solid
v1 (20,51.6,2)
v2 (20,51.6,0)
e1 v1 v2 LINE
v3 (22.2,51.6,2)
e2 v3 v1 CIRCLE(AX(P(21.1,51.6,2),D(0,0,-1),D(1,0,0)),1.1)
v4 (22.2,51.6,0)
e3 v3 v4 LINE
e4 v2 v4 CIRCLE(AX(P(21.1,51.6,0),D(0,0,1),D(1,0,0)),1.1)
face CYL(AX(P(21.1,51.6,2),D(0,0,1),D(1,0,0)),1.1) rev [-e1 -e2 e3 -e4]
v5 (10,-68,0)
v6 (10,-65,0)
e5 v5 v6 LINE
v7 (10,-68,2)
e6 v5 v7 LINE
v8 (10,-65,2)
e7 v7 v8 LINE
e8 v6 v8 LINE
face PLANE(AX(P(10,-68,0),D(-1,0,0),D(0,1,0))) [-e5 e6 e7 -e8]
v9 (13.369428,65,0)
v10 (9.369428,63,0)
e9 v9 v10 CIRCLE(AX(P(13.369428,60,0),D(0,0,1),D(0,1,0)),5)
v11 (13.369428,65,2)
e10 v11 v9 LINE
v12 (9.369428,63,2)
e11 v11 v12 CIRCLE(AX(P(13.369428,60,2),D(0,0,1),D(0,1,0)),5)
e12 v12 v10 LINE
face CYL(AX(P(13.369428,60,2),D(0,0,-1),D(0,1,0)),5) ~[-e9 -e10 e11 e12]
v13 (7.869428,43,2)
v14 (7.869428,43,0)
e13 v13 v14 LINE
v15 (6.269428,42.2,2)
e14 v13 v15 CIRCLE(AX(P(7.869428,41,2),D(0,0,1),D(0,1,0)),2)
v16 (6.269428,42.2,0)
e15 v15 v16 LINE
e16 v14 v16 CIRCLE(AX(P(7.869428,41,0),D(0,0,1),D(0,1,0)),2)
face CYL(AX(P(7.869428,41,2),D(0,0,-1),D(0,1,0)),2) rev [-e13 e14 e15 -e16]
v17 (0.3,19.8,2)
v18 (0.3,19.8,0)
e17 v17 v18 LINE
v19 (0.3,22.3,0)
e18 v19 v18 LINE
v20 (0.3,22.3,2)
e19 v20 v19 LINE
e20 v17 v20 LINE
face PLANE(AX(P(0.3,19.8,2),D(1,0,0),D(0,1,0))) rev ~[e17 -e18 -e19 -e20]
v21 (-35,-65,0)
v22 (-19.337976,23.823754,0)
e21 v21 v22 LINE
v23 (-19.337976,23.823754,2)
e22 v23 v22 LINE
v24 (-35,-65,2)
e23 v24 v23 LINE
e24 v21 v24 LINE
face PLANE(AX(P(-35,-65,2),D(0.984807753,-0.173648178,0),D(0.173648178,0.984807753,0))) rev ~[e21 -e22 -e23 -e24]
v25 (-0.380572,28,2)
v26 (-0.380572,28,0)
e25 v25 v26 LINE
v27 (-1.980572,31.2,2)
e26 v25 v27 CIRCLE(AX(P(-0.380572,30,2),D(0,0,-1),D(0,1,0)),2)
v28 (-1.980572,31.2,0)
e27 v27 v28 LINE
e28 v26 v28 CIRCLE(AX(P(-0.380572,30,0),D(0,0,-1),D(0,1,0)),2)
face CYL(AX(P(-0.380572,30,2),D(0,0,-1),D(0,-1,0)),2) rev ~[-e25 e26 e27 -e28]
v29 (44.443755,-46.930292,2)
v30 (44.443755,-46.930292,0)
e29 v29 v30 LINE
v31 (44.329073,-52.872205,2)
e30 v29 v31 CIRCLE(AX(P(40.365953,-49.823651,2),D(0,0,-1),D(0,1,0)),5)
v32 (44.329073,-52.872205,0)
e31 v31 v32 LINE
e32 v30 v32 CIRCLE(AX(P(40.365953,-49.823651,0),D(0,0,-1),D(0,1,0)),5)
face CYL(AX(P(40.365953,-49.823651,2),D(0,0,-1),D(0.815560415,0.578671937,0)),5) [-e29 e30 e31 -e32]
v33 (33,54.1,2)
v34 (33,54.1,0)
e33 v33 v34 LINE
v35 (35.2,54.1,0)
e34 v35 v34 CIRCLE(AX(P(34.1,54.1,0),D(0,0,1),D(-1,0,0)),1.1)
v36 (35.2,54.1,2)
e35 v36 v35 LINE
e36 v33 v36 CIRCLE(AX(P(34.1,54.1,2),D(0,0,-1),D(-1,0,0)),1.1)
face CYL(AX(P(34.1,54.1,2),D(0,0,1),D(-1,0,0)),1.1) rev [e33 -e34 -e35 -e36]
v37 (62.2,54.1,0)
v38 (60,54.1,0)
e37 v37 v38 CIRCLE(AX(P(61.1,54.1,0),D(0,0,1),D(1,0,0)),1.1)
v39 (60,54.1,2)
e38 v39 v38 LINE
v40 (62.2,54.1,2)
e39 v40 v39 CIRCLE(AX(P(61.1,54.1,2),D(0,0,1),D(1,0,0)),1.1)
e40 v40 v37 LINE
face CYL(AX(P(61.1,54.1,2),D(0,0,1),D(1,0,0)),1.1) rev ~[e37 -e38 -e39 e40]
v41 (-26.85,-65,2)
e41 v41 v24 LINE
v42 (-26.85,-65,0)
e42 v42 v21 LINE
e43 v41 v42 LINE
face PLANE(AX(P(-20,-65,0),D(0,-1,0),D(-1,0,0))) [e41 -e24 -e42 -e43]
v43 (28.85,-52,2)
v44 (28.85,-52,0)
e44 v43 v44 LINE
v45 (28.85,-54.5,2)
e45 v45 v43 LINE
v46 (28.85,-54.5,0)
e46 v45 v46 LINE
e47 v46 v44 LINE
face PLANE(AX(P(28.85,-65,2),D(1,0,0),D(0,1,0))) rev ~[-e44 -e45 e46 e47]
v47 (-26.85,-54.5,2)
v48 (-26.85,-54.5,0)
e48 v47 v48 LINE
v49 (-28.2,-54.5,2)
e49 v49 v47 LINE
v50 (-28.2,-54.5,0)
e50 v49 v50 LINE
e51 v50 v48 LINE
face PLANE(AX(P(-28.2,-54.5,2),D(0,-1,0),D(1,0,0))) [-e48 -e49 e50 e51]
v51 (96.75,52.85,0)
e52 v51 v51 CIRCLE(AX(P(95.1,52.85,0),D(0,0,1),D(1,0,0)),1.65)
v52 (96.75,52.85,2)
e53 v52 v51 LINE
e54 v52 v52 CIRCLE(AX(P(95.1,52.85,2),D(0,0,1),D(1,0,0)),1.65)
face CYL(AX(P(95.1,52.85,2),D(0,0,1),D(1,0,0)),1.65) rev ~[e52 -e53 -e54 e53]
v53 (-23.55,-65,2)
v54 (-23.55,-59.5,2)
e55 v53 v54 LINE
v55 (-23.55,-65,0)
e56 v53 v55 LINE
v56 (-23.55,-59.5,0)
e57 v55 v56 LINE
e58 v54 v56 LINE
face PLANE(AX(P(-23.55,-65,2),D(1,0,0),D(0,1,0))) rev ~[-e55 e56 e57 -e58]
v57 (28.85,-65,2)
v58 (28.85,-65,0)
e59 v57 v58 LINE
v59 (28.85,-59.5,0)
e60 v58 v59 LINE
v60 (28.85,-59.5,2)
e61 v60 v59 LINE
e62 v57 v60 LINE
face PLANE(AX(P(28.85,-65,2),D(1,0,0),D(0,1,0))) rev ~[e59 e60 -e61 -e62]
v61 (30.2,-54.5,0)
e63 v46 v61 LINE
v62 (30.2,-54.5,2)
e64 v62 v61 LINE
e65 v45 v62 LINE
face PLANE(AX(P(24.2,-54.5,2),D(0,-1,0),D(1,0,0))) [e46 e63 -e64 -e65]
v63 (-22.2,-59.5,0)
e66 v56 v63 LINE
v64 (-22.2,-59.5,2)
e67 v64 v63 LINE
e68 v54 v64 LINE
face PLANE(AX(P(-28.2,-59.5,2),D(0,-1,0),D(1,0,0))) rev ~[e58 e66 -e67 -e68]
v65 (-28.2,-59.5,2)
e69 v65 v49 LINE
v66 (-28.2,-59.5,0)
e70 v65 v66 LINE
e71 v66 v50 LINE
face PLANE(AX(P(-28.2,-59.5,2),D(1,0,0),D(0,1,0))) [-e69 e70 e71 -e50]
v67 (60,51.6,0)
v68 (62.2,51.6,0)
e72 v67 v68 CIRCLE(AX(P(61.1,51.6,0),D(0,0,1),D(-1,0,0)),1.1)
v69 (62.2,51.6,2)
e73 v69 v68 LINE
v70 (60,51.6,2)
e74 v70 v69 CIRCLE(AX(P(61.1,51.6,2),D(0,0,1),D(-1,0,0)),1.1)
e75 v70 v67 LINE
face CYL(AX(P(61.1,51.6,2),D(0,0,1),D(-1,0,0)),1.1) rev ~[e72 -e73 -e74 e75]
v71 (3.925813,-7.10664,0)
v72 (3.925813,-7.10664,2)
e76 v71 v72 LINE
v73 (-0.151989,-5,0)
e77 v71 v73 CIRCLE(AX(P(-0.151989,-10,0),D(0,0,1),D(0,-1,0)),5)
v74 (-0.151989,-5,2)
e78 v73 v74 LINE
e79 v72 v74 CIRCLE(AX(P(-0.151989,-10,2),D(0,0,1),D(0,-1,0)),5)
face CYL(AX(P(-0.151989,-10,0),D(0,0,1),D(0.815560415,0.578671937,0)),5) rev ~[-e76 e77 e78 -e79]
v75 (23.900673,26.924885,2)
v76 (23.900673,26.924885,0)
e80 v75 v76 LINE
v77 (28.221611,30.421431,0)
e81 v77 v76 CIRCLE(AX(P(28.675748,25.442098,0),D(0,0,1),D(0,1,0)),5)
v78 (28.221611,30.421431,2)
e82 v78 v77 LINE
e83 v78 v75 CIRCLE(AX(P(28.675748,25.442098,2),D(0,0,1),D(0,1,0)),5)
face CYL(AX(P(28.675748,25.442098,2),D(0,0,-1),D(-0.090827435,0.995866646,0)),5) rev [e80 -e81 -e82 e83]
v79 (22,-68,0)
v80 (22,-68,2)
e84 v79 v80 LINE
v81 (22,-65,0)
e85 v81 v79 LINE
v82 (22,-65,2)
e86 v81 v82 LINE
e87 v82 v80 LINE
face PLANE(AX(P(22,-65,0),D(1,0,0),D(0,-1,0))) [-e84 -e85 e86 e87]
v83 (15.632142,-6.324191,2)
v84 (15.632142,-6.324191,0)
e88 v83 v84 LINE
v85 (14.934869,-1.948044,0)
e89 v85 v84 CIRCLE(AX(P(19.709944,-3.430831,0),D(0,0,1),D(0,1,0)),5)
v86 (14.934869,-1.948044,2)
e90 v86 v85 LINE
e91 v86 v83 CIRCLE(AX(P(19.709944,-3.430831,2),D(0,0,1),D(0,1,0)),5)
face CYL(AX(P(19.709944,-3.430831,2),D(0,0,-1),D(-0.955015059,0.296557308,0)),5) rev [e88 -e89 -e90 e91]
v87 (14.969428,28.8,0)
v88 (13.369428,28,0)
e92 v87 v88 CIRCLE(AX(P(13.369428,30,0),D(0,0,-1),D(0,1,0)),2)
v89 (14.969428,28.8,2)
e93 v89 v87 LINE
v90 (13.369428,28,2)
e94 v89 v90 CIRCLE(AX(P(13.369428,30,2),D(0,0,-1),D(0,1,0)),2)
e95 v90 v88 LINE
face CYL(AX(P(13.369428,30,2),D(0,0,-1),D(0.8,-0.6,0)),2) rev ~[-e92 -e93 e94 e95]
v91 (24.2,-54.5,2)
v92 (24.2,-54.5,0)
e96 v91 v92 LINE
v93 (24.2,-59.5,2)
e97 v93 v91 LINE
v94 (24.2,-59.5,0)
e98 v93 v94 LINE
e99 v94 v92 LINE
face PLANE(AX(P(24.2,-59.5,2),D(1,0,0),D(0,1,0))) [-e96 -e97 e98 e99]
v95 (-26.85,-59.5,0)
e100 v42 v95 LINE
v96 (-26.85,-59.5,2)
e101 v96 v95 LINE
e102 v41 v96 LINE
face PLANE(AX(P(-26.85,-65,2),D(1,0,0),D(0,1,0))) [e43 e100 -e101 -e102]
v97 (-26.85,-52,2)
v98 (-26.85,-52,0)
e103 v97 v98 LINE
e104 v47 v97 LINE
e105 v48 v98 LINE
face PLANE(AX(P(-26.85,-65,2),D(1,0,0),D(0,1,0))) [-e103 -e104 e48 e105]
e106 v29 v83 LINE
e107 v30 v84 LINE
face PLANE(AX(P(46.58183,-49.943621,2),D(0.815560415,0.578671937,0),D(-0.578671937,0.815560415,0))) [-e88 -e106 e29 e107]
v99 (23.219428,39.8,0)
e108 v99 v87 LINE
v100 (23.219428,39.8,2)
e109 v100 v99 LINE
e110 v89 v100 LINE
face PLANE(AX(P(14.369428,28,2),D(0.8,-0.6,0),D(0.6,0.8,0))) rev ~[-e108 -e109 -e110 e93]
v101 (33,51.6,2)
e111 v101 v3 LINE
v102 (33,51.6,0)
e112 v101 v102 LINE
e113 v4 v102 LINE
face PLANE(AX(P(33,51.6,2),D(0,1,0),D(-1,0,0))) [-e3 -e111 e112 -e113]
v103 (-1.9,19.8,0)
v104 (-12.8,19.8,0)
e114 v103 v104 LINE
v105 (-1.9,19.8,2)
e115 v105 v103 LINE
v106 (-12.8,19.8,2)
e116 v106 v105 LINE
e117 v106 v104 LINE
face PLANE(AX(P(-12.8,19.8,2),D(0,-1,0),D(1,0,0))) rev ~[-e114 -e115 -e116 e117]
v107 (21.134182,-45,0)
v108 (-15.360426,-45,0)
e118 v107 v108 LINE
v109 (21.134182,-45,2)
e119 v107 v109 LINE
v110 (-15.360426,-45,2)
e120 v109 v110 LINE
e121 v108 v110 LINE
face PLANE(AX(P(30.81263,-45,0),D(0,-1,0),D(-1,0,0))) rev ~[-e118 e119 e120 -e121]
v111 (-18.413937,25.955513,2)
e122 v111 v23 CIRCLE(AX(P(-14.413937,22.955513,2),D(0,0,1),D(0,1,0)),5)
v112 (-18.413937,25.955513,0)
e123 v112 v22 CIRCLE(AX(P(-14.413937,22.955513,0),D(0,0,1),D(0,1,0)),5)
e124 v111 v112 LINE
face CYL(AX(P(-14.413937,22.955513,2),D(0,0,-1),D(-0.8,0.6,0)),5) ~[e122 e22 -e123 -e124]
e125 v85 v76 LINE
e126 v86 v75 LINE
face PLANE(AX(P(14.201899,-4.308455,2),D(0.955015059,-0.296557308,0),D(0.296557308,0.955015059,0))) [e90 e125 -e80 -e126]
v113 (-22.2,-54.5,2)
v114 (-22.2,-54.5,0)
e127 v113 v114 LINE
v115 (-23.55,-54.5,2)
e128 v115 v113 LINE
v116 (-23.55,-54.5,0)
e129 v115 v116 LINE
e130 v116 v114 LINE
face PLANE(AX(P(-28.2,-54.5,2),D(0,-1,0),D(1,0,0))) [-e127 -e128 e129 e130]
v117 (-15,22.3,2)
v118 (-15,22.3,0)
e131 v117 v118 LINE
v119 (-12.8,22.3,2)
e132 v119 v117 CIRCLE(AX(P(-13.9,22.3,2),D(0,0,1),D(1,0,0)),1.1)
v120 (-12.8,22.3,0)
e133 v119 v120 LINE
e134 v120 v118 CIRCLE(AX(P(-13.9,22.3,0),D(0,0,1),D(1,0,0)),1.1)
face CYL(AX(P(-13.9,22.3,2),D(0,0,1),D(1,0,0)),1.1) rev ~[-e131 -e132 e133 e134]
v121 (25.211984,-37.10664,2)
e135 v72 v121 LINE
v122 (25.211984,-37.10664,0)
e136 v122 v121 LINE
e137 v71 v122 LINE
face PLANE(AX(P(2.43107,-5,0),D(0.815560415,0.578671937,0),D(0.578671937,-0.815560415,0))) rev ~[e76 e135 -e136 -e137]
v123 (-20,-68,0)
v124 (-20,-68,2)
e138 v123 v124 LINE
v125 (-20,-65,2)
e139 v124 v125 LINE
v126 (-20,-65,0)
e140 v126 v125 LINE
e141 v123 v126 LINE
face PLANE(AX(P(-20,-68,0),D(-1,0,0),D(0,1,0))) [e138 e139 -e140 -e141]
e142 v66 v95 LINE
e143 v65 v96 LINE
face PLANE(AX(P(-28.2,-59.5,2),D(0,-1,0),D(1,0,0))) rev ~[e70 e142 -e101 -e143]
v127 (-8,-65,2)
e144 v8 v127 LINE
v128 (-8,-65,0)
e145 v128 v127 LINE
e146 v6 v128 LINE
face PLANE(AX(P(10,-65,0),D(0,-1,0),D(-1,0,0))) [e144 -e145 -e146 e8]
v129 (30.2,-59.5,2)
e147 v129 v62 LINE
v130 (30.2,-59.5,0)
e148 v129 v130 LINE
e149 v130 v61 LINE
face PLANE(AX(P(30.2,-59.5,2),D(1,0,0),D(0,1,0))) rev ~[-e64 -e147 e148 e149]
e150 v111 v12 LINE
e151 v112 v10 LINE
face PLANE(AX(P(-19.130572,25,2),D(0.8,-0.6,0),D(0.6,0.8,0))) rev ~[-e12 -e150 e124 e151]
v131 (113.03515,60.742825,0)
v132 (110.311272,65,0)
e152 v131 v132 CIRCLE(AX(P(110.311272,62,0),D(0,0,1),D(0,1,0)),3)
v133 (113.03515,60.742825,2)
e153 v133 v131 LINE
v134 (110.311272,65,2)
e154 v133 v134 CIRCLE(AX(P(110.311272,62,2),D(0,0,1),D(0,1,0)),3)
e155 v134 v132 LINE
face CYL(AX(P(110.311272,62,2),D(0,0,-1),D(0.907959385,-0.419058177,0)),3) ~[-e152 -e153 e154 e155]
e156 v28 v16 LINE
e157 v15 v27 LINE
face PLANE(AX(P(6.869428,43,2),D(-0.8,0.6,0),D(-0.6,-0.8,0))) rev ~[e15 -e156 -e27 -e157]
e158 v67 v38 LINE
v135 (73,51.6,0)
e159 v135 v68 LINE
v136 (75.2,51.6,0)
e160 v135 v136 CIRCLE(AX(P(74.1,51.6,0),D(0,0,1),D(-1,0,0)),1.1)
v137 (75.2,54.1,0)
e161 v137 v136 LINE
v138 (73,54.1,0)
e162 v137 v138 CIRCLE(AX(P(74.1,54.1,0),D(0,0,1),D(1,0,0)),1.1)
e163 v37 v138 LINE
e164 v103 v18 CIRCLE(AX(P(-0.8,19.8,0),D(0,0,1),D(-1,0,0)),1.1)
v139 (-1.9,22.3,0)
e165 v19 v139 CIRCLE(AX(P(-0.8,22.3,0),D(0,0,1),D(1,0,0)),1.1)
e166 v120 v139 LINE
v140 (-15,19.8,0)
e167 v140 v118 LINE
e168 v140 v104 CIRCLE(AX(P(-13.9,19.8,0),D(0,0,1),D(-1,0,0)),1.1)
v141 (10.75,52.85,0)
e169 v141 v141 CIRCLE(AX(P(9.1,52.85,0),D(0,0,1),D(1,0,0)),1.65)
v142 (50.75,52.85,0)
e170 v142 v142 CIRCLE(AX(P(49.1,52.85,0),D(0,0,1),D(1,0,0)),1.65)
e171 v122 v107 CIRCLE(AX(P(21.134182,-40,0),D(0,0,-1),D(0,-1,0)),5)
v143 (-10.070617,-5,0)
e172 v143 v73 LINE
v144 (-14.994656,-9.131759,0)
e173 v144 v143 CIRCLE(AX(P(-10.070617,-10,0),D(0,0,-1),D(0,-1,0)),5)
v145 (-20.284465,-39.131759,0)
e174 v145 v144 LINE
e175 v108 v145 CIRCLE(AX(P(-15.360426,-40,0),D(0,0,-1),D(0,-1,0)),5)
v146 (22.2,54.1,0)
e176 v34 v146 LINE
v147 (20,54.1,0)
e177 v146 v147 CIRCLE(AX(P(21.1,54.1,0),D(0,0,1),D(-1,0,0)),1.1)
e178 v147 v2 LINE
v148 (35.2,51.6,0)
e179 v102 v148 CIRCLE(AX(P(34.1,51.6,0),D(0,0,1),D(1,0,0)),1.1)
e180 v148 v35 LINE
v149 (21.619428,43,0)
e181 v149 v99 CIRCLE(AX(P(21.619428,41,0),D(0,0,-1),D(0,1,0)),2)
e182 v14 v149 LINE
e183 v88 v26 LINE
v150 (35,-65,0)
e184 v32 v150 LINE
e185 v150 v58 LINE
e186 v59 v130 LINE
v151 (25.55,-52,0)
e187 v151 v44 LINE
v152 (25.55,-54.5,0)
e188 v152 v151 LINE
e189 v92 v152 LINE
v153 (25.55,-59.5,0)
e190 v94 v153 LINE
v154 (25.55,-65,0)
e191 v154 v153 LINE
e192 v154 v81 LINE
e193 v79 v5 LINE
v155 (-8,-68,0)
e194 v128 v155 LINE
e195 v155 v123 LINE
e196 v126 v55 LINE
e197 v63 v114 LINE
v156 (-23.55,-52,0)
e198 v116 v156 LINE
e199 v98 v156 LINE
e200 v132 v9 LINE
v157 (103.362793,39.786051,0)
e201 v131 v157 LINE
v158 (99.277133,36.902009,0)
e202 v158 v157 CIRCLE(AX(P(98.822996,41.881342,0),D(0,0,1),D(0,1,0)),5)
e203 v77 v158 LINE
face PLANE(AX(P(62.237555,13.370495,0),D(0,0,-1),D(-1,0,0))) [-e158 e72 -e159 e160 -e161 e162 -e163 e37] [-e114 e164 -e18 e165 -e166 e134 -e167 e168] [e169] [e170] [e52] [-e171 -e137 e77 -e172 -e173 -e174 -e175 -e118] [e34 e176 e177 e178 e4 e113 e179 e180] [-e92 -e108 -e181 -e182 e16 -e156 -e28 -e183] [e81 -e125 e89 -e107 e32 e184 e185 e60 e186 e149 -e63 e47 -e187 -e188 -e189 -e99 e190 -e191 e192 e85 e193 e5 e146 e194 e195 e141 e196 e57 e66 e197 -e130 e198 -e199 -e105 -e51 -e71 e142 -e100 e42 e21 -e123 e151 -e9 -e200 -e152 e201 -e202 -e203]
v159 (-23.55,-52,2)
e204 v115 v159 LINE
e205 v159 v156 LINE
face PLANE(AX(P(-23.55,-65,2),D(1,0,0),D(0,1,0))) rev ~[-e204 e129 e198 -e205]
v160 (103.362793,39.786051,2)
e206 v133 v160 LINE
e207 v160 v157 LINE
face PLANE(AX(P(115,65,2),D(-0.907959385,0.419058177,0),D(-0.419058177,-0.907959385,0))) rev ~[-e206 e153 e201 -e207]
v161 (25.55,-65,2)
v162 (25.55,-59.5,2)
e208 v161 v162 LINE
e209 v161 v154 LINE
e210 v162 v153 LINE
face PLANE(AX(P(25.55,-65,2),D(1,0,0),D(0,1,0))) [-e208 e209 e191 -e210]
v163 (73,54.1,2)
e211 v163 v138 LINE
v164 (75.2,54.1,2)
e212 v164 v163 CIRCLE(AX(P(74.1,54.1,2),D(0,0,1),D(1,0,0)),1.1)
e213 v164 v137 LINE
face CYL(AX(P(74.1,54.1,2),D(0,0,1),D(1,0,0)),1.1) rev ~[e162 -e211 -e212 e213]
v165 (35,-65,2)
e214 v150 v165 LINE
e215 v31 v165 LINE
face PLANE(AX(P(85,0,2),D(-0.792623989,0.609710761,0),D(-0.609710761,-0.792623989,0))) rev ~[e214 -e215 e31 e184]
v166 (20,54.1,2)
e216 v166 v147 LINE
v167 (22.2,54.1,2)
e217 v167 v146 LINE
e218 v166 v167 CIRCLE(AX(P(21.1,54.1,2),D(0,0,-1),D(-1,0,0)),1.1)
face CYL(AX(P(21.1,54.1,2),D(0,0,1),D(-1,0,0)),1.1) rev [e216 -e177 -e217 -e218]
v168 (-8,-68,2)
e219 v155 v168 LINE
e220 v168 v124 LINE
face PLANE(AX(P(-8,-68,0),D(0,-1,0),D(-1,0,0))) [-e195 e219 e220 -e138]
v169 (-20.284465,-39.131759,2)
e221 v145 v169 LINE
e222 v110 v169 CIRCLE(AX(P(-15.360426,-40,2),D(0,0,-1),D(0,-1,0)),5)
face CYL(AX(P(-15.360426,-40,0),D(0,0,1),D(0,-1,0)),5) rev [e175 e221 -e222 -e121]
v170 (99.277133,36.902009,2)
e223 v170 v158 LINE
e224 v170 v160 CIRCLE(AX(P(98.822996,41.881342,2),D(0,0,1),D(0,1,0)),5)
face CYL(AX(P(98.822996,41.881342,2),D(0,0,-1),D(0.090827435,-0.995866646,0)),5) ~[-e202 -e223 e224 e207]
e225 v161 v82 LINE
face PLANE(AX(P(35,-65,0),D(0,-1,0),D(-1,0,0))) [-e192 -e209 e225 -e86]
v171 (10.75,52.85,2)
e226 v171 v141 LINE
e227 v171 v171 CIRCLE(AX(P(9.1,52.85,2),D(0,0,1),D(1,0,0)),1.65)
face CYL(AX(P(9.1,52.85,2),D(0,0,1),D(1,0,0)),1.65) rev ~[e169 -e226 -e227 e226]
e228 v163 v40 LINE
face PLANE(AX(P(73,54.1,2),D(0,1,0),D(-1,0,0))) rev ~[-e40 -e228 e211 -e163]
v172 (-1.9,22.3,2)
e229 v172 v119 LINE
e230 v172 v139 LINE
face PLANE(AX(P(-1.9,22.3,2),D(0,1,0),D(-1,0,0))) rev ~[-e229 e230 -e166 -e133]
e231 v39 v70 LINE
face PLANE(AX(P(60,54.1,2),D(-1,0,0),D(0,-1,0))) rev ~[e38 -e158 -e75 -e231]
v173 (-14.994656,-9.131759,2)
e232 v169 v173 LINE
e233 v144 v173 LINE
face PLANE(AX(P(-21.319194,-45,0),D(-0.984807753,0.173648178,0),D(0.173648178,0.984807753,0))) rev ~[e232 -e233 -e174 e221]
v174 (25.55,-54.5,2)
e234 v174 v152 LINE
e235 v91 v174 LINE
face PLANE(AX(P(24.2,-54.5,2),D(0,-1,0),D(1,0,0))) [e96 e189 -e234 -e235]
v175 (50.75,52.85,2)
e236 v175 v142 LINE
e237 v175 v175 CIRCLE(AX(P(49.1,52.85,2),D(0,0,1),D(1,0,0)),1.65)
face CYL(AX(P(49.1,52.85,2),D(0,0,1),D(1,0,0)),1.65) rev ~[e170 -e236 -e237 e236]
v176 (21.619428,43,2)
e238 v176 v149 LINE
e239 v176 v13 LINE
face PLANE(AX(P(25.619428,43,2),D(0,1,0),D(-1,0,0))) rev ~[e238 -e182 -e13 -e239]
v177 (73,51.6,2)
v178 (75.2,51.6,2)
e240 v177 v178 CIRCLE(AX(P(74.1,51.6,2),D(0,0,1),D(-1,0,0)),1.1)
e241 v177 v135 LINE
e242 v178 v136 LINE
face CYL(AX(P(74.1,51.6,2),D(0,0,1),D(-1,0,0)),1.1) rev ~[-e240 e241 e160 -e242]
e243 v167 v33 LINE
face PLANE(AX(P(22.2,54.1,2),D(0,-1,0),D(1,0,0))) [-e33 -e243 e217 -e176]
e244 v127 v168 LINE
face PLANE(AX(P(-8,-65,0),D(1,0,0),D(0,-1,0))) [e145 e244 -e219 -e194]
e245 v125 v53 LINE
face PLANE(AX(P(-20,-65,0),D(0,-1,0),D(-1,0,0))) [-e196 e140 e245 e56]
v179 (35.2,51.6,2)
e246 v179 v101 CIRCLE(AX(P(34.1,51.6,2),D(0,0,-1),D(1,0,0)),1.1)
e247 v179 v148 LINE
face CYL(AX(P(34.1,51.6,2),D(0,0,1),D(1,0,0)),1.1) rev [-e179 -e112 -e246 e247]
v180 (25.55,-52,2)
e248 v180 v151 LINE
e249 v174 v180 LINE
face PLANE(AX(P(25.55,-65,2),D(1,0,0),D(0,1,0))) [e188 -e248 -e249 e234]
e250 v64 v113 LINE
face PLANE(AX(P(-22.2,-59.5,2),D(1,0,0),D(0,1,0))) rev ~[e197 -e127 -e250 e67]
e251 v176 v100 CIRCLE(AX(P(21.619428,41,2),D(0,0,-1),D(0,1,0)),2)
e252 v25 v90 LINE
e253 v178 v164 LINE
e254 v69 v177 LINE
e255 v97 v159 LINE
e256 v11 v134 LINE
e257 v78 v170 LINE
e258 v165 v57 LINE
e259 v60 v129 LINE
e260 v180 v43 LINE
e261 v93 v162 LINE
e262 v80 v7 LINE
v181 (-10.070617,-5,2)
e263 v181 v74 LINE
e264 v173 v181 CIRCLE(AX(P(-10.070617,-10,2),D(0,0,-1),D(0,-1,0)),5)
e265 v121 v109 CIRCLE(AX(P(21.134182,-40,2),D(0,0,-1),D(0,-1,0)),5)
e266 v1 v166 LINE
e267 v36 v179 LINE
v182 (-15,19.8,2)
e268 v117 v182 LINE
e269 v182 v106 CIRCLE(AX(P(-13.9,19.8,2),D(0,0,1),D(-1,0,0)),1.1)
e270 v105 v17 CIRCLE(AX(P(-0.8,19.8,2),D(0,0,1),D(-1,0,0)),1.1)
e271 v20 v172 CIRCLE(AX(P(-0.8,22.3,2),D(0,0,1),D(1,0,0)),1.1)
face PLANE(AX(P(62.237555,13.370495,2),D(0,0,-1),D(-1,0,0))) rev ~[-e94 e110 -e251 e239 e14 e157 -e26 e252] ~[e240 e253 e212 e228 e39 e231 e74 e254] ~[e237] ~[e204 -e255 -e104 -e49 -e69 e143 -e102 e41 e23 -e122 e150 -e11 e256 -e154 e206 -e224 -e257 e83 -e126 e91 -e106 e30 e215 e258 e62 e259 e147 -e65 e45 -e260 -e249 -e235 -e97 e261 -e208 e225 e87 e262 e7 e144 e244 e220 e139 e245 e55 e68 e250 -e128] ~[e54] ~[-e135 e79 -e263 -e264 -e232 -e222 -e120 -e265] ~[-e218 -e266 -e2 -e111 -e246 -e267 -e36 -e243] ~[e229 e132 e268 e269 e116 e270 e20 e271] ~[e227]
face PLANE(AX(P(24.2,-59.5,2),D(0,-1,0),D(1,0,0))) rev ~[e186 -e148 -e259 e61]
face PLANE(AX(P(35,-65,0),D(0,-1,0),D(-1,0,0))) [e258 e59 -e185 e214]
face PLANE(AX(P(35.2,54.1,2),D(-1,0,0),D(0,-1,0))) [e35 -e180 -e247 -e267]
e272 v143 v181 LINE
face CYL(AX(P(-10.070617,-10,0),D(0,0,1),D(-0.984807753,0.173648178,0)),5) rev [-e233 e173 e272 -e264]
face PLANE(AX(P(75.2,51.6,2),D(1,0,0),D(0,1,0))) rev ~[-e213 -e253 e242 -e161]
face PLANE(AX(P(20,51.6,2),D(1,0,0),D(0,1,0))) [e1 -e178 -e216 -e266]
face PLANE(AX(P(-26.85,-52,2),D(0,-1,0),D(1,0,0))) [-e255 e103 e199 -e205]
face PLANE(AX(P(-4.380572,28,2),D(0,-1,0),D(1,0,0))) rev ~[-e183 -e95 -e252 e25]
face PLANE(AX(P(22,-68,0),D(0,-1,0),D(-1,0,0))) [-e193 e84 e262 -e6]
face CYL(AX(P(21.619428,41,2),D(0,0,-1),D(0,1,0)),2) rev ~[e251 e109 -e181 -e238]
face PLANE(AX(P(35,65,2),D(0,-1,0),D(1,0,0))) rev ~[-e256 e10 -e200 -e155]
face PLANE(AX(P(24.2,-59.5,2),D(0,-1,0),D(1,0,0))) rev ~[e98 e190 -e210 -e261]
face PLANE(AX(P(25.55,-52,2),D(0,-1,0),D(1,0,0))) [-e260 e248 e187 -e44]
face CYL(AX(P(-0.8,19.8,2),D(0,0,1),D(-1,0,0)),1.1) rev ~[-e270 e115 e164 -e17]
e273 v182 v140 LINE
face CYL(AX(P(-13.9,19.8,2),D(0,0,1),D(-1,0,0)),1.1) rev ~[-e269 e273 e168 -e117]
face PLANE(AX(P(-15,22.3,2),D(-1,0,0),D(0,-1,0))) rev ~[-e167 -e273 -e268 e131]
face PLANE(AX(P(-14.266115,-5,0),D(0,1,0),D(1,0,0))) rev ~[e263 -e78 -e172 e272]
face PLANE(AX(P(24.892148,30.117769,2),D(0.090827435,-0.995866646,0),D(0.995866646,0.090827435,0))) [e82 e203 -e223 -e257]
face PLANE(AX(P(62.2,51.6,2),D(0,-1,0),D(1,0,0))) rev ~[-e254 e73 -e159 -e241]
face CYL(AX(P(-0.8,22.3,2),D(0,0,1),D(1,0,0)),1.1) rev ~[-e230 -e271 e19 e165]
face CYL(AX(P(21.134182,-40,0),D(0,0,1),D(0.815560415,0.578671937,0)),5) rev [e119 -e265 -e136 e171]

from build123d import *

# Parameters (mm, degrees)
EXTRUDE_1_DEPTH      = 2
CUT_EXTRUDE_1_DEPTH  = 2
EXTRUDE_2_DEPTH      = 2
SKETCH_6_W           = 3.3
SKETCH_6_H           = 13
CUT_EXTRUDE_3_DEPTH  = 2
SKETCH_7_W           = 6
SKETCH_7_H           = 5
CUT_EXTRUDE_4_DEPTH  = 2
CUT_EXTRUDE_5_DEPTH  = 2
CUT_EXTRUDE_7_DEPTH  = 10
CUT_EXTRUDE_9_DEPTH  = 10
FILLET_1_R           = 5
CUT_EXTRUDE_10_DEPTH = 50
SKETCH_13_R          = 1.65
CUT_EXTRUDE_11_DEPTH = 50
FILLET_2_R           = 5
CUT_EXTRUDE_13_DEPTH = 50
FILLET_4_R           = 2
FILLET_5_R           = 3


with BuildPart() as part:
    # 草图1 → 凸台-拉伸1 (new body)
    with BuildSketch(Plane.XY):
        Polygon((-20, -65), (-35, -65), (-35, 65), (35, 65), (35, -65), (22, -65), (22, -68), (10, -68), (10, -65), (-8, -65), (-8, -68), (-20, -68), align=None)
    extrude(amount=EXTRUDE_1_DEPTH)

    # 草图2 → 切除-拉伸1 (cut)
    with BuildSketch(Plane.XY.offset(2)):
        Polygon((-35, -65), (-19.130571736, 25), (10.869428264, 65), (-35, 65), align=None)
    extrude(amount=-CUT_EXTRUDE_1_DEPTH, mode=Mode.SUBTRACT)

    # 草图3 → 凸台-拉伸2 (add)
    with BuildSketch(Plane.XY.offset(2)):
        Polygon((35, 65), (115, 65), (85, 0), (35, -65), align=None)
    extrude(amount=-EXTRUDE_2_DEPTH)

    # 草图6 → 切除-拉伸3 (cut)
    with BuildSketch(Plane.XY.offset(2)):
        with Locations((-25.2, -58.5)):
            Rectangle(SKETCH_6_W, SKETCH_6_H)
        with Locations((27.2, -58.5)):
            Rectangle(SKETCH_6_W, SKETCH_6_H)
    extrude(amount=-CUT_EXTRUDE_3_DEPTH, mode=Mode.SUBTRACT)

    # 草图7 → 切除-拉伸4 (cut)
    with BuildSketch(Plane.XY.offset(2)):
        with Locations((-25.2, -57)):
            Rectangle(SKETCH_7_W, SKETCH_7_H)
        with Locations((27.2, -57)):
            Rectangle(SKETCH_7_W, SKETCH_7_H)
    extrude(amount=-CUT_EXTRUDE_4_DEPTH, mode=Mode.SUBTRACT)

    # 草图8 → 切除-拉伸5 (cut)
    with BuildSketch(Plane.XY.offset(2)):
        Polygon((46.581829906, -49.943621123), (14.201899011, -4.308455167), (24.89214771, 30.117769456), (102.152743187, 37.164276905), (85, 0), align=None)
    extrude(amount=-CUT_EXTRUDE_5_DEPTH, mode=Mode.SUBTRACT)

    # 草图9 → 切除-拉伸7 (cut)
    with BuildSketch(Plane.XY.offset(2)):
        with BuildLine():
            Line((-12.8, 19.8), (-1.9, 19.8))
            ThreePointArc((-1.9, 19.8), (-0.8, 18.7), (0.3, 19.8))
            Line((0.3, 19.8), (0.3, 22.3))
            ThreePointArc((0.3, 22.3), (-0.8, 23.4), (-1.9, 22.3))
            Line((-1.9, 22.3), (-12.8, 22.3))
            ThreePointArc((-12.8, 22.3), (-13.9, 23.4), (-15, 22.3))
            Line((-15, 22.3), (-15, 19.8))
            ThreePointArc((-15, 19.8), (-13.9, 18.7), (-12.8, 19.8))
        make_face()
    extrude(amount=-CUT_EXTRUDE_7_DEPTH, mode=Mode.SUBTRACT)

    # 草图11 → 切除-拉伸9 (cut)
    with BuildSketch(Plane(origin=(0, 0, 0), x_dir=(-1, 0, 0), z_dir=(0, 0, -1))):
        Polygon((-2.431069725, -5), (-30.812630494, -45), (21.319194267, -45), (14.266115039, -5), align=None)
    extrude(amount=-CUT_EXTRUDE_9_DEPTH, mode=Mode.SUBTRACT)

    # 圆角1
    fillet_1_edges = [part.edges().sort_by_distance(p)[0] for p in [
        (46.581829906, -49.943621123, 1),
        (14.201899011, -4.308455167, 1),
        (24.89214771, 30.117769456, 1),
        (2.431069725, -5, 1),
        (-14.266115039, -5, 1),
        (-21.319194267, -45, 1),
        (30.812630494, -45, 1),
    ]]
    fillet(fillet_1_edges, radius=FILLET_1_R)

    # 草图12 → 切除-拉伸10 (cut)
    with BuildSketch(Plane.XY.offset(2)):
        with BuildLine():
            Line((22.2, 54.1), (33, 54.1))
            ThreePointArc((33, 54.1), (34.1, 55.2), (35.2, 54.1))
            Line((35.2, 54.1), (35.2, 51.6))
            ThreePointArc((35.2, 51.6), (34.1, 50.5), (33, 51.6))
            Line((33, 51.6), (22.2, 51.6))
            ThreePointArc((22.2, 51.6), (21.1, 50.5), (20, 51.6))
            Line((20, 51.6), (20, 54.1))
            ThreePointArc((20, 54.1), (21.1, 55.2), (22.2, 54.1))
        make_face()
        with BuildLine():
            Line((62.2, 51.6), (73, 51.6))
            ThreePointArc((73, 51.6), (74.1, 50.5), (75.2, 51.6))
            Line((75.2, 51.6), (75.2, 54.1))
            ThreePointArc((75.2, 54.1), (74.1, 55.2), (73, 54.1))
            Line((73, 54.1), (62.2, 54.1))
            ThreePointArc((62.2, 54.1), (61.1, 55.2), (60, 54.1))
            Line((60, 54.1), (60, 51.6))
            ThreePointArc((60, 51.6), (61.1, 50.5), (62.2, 51.6))
        make_face()
    extrude(amount=-CUT_EXTRUDE_10_DEPTH, mode=Mode.SUBTRACT)

    # 草图13 → 切除-拉伸11 (cut)
    with BuildSketch(Plane.XY.offset(2)):
        with Locations((9.1, 52.85)):
            Circle(SKETCH_13_R)
        with Locations((49.1, 52.85)):
            Circle(SKETCH_13_R)
        with Locations((95.1, 52.85)):
            Circle(SKETCH_13_R)
    extrude(amount=-CUT_EXTRUDE_11_DEPTH, mode=Mode.SUBTRACT)

    # 圆角2
    fillet_2_edges = [part.edges().sort_by_distance(p)[0] for p in [
        (102.152743187, 37.164276905, 1),
        (10.869428264, 65, 1),
        (-19.130571736, 25, 1),
    ]]
    fillet(fillet_2_edges, radius=FILLET_2_R)

    # 草图15 → 切除-拉伸13 (cut)
    with BuildSketch(Plane.XY.offset(2)):
        Polygon((6.869428264, 43), (-4.380571736, 28), (14.369428264, 28), (25.619428264, 43), align=None)
    extrude(amount=-CUT_EXTRUDE_13_DEPTH, mode=Mode.SUBTRACT)

    # 圆角4
    fillet_4_edges = [part.edges().sort_by_distance(p)[0] for p in [
        (6.869428264, 43, 1),
        (25.619428264, 43, 1),
        (14.369428264, 28, 1),
        (-4.380571736, 28, 1),
    ]]
    fillet(fillet_4_edges, radius=FILLET_4_R)

    # 圆角5
    fillet_5_edges = [part.edges().sort_by_distance(p)[0] for p in [
        (115, 65, 1),
    ]]
    fillet(fillet_5_edges, radius=FILLET_5_R)


solid = part.part
